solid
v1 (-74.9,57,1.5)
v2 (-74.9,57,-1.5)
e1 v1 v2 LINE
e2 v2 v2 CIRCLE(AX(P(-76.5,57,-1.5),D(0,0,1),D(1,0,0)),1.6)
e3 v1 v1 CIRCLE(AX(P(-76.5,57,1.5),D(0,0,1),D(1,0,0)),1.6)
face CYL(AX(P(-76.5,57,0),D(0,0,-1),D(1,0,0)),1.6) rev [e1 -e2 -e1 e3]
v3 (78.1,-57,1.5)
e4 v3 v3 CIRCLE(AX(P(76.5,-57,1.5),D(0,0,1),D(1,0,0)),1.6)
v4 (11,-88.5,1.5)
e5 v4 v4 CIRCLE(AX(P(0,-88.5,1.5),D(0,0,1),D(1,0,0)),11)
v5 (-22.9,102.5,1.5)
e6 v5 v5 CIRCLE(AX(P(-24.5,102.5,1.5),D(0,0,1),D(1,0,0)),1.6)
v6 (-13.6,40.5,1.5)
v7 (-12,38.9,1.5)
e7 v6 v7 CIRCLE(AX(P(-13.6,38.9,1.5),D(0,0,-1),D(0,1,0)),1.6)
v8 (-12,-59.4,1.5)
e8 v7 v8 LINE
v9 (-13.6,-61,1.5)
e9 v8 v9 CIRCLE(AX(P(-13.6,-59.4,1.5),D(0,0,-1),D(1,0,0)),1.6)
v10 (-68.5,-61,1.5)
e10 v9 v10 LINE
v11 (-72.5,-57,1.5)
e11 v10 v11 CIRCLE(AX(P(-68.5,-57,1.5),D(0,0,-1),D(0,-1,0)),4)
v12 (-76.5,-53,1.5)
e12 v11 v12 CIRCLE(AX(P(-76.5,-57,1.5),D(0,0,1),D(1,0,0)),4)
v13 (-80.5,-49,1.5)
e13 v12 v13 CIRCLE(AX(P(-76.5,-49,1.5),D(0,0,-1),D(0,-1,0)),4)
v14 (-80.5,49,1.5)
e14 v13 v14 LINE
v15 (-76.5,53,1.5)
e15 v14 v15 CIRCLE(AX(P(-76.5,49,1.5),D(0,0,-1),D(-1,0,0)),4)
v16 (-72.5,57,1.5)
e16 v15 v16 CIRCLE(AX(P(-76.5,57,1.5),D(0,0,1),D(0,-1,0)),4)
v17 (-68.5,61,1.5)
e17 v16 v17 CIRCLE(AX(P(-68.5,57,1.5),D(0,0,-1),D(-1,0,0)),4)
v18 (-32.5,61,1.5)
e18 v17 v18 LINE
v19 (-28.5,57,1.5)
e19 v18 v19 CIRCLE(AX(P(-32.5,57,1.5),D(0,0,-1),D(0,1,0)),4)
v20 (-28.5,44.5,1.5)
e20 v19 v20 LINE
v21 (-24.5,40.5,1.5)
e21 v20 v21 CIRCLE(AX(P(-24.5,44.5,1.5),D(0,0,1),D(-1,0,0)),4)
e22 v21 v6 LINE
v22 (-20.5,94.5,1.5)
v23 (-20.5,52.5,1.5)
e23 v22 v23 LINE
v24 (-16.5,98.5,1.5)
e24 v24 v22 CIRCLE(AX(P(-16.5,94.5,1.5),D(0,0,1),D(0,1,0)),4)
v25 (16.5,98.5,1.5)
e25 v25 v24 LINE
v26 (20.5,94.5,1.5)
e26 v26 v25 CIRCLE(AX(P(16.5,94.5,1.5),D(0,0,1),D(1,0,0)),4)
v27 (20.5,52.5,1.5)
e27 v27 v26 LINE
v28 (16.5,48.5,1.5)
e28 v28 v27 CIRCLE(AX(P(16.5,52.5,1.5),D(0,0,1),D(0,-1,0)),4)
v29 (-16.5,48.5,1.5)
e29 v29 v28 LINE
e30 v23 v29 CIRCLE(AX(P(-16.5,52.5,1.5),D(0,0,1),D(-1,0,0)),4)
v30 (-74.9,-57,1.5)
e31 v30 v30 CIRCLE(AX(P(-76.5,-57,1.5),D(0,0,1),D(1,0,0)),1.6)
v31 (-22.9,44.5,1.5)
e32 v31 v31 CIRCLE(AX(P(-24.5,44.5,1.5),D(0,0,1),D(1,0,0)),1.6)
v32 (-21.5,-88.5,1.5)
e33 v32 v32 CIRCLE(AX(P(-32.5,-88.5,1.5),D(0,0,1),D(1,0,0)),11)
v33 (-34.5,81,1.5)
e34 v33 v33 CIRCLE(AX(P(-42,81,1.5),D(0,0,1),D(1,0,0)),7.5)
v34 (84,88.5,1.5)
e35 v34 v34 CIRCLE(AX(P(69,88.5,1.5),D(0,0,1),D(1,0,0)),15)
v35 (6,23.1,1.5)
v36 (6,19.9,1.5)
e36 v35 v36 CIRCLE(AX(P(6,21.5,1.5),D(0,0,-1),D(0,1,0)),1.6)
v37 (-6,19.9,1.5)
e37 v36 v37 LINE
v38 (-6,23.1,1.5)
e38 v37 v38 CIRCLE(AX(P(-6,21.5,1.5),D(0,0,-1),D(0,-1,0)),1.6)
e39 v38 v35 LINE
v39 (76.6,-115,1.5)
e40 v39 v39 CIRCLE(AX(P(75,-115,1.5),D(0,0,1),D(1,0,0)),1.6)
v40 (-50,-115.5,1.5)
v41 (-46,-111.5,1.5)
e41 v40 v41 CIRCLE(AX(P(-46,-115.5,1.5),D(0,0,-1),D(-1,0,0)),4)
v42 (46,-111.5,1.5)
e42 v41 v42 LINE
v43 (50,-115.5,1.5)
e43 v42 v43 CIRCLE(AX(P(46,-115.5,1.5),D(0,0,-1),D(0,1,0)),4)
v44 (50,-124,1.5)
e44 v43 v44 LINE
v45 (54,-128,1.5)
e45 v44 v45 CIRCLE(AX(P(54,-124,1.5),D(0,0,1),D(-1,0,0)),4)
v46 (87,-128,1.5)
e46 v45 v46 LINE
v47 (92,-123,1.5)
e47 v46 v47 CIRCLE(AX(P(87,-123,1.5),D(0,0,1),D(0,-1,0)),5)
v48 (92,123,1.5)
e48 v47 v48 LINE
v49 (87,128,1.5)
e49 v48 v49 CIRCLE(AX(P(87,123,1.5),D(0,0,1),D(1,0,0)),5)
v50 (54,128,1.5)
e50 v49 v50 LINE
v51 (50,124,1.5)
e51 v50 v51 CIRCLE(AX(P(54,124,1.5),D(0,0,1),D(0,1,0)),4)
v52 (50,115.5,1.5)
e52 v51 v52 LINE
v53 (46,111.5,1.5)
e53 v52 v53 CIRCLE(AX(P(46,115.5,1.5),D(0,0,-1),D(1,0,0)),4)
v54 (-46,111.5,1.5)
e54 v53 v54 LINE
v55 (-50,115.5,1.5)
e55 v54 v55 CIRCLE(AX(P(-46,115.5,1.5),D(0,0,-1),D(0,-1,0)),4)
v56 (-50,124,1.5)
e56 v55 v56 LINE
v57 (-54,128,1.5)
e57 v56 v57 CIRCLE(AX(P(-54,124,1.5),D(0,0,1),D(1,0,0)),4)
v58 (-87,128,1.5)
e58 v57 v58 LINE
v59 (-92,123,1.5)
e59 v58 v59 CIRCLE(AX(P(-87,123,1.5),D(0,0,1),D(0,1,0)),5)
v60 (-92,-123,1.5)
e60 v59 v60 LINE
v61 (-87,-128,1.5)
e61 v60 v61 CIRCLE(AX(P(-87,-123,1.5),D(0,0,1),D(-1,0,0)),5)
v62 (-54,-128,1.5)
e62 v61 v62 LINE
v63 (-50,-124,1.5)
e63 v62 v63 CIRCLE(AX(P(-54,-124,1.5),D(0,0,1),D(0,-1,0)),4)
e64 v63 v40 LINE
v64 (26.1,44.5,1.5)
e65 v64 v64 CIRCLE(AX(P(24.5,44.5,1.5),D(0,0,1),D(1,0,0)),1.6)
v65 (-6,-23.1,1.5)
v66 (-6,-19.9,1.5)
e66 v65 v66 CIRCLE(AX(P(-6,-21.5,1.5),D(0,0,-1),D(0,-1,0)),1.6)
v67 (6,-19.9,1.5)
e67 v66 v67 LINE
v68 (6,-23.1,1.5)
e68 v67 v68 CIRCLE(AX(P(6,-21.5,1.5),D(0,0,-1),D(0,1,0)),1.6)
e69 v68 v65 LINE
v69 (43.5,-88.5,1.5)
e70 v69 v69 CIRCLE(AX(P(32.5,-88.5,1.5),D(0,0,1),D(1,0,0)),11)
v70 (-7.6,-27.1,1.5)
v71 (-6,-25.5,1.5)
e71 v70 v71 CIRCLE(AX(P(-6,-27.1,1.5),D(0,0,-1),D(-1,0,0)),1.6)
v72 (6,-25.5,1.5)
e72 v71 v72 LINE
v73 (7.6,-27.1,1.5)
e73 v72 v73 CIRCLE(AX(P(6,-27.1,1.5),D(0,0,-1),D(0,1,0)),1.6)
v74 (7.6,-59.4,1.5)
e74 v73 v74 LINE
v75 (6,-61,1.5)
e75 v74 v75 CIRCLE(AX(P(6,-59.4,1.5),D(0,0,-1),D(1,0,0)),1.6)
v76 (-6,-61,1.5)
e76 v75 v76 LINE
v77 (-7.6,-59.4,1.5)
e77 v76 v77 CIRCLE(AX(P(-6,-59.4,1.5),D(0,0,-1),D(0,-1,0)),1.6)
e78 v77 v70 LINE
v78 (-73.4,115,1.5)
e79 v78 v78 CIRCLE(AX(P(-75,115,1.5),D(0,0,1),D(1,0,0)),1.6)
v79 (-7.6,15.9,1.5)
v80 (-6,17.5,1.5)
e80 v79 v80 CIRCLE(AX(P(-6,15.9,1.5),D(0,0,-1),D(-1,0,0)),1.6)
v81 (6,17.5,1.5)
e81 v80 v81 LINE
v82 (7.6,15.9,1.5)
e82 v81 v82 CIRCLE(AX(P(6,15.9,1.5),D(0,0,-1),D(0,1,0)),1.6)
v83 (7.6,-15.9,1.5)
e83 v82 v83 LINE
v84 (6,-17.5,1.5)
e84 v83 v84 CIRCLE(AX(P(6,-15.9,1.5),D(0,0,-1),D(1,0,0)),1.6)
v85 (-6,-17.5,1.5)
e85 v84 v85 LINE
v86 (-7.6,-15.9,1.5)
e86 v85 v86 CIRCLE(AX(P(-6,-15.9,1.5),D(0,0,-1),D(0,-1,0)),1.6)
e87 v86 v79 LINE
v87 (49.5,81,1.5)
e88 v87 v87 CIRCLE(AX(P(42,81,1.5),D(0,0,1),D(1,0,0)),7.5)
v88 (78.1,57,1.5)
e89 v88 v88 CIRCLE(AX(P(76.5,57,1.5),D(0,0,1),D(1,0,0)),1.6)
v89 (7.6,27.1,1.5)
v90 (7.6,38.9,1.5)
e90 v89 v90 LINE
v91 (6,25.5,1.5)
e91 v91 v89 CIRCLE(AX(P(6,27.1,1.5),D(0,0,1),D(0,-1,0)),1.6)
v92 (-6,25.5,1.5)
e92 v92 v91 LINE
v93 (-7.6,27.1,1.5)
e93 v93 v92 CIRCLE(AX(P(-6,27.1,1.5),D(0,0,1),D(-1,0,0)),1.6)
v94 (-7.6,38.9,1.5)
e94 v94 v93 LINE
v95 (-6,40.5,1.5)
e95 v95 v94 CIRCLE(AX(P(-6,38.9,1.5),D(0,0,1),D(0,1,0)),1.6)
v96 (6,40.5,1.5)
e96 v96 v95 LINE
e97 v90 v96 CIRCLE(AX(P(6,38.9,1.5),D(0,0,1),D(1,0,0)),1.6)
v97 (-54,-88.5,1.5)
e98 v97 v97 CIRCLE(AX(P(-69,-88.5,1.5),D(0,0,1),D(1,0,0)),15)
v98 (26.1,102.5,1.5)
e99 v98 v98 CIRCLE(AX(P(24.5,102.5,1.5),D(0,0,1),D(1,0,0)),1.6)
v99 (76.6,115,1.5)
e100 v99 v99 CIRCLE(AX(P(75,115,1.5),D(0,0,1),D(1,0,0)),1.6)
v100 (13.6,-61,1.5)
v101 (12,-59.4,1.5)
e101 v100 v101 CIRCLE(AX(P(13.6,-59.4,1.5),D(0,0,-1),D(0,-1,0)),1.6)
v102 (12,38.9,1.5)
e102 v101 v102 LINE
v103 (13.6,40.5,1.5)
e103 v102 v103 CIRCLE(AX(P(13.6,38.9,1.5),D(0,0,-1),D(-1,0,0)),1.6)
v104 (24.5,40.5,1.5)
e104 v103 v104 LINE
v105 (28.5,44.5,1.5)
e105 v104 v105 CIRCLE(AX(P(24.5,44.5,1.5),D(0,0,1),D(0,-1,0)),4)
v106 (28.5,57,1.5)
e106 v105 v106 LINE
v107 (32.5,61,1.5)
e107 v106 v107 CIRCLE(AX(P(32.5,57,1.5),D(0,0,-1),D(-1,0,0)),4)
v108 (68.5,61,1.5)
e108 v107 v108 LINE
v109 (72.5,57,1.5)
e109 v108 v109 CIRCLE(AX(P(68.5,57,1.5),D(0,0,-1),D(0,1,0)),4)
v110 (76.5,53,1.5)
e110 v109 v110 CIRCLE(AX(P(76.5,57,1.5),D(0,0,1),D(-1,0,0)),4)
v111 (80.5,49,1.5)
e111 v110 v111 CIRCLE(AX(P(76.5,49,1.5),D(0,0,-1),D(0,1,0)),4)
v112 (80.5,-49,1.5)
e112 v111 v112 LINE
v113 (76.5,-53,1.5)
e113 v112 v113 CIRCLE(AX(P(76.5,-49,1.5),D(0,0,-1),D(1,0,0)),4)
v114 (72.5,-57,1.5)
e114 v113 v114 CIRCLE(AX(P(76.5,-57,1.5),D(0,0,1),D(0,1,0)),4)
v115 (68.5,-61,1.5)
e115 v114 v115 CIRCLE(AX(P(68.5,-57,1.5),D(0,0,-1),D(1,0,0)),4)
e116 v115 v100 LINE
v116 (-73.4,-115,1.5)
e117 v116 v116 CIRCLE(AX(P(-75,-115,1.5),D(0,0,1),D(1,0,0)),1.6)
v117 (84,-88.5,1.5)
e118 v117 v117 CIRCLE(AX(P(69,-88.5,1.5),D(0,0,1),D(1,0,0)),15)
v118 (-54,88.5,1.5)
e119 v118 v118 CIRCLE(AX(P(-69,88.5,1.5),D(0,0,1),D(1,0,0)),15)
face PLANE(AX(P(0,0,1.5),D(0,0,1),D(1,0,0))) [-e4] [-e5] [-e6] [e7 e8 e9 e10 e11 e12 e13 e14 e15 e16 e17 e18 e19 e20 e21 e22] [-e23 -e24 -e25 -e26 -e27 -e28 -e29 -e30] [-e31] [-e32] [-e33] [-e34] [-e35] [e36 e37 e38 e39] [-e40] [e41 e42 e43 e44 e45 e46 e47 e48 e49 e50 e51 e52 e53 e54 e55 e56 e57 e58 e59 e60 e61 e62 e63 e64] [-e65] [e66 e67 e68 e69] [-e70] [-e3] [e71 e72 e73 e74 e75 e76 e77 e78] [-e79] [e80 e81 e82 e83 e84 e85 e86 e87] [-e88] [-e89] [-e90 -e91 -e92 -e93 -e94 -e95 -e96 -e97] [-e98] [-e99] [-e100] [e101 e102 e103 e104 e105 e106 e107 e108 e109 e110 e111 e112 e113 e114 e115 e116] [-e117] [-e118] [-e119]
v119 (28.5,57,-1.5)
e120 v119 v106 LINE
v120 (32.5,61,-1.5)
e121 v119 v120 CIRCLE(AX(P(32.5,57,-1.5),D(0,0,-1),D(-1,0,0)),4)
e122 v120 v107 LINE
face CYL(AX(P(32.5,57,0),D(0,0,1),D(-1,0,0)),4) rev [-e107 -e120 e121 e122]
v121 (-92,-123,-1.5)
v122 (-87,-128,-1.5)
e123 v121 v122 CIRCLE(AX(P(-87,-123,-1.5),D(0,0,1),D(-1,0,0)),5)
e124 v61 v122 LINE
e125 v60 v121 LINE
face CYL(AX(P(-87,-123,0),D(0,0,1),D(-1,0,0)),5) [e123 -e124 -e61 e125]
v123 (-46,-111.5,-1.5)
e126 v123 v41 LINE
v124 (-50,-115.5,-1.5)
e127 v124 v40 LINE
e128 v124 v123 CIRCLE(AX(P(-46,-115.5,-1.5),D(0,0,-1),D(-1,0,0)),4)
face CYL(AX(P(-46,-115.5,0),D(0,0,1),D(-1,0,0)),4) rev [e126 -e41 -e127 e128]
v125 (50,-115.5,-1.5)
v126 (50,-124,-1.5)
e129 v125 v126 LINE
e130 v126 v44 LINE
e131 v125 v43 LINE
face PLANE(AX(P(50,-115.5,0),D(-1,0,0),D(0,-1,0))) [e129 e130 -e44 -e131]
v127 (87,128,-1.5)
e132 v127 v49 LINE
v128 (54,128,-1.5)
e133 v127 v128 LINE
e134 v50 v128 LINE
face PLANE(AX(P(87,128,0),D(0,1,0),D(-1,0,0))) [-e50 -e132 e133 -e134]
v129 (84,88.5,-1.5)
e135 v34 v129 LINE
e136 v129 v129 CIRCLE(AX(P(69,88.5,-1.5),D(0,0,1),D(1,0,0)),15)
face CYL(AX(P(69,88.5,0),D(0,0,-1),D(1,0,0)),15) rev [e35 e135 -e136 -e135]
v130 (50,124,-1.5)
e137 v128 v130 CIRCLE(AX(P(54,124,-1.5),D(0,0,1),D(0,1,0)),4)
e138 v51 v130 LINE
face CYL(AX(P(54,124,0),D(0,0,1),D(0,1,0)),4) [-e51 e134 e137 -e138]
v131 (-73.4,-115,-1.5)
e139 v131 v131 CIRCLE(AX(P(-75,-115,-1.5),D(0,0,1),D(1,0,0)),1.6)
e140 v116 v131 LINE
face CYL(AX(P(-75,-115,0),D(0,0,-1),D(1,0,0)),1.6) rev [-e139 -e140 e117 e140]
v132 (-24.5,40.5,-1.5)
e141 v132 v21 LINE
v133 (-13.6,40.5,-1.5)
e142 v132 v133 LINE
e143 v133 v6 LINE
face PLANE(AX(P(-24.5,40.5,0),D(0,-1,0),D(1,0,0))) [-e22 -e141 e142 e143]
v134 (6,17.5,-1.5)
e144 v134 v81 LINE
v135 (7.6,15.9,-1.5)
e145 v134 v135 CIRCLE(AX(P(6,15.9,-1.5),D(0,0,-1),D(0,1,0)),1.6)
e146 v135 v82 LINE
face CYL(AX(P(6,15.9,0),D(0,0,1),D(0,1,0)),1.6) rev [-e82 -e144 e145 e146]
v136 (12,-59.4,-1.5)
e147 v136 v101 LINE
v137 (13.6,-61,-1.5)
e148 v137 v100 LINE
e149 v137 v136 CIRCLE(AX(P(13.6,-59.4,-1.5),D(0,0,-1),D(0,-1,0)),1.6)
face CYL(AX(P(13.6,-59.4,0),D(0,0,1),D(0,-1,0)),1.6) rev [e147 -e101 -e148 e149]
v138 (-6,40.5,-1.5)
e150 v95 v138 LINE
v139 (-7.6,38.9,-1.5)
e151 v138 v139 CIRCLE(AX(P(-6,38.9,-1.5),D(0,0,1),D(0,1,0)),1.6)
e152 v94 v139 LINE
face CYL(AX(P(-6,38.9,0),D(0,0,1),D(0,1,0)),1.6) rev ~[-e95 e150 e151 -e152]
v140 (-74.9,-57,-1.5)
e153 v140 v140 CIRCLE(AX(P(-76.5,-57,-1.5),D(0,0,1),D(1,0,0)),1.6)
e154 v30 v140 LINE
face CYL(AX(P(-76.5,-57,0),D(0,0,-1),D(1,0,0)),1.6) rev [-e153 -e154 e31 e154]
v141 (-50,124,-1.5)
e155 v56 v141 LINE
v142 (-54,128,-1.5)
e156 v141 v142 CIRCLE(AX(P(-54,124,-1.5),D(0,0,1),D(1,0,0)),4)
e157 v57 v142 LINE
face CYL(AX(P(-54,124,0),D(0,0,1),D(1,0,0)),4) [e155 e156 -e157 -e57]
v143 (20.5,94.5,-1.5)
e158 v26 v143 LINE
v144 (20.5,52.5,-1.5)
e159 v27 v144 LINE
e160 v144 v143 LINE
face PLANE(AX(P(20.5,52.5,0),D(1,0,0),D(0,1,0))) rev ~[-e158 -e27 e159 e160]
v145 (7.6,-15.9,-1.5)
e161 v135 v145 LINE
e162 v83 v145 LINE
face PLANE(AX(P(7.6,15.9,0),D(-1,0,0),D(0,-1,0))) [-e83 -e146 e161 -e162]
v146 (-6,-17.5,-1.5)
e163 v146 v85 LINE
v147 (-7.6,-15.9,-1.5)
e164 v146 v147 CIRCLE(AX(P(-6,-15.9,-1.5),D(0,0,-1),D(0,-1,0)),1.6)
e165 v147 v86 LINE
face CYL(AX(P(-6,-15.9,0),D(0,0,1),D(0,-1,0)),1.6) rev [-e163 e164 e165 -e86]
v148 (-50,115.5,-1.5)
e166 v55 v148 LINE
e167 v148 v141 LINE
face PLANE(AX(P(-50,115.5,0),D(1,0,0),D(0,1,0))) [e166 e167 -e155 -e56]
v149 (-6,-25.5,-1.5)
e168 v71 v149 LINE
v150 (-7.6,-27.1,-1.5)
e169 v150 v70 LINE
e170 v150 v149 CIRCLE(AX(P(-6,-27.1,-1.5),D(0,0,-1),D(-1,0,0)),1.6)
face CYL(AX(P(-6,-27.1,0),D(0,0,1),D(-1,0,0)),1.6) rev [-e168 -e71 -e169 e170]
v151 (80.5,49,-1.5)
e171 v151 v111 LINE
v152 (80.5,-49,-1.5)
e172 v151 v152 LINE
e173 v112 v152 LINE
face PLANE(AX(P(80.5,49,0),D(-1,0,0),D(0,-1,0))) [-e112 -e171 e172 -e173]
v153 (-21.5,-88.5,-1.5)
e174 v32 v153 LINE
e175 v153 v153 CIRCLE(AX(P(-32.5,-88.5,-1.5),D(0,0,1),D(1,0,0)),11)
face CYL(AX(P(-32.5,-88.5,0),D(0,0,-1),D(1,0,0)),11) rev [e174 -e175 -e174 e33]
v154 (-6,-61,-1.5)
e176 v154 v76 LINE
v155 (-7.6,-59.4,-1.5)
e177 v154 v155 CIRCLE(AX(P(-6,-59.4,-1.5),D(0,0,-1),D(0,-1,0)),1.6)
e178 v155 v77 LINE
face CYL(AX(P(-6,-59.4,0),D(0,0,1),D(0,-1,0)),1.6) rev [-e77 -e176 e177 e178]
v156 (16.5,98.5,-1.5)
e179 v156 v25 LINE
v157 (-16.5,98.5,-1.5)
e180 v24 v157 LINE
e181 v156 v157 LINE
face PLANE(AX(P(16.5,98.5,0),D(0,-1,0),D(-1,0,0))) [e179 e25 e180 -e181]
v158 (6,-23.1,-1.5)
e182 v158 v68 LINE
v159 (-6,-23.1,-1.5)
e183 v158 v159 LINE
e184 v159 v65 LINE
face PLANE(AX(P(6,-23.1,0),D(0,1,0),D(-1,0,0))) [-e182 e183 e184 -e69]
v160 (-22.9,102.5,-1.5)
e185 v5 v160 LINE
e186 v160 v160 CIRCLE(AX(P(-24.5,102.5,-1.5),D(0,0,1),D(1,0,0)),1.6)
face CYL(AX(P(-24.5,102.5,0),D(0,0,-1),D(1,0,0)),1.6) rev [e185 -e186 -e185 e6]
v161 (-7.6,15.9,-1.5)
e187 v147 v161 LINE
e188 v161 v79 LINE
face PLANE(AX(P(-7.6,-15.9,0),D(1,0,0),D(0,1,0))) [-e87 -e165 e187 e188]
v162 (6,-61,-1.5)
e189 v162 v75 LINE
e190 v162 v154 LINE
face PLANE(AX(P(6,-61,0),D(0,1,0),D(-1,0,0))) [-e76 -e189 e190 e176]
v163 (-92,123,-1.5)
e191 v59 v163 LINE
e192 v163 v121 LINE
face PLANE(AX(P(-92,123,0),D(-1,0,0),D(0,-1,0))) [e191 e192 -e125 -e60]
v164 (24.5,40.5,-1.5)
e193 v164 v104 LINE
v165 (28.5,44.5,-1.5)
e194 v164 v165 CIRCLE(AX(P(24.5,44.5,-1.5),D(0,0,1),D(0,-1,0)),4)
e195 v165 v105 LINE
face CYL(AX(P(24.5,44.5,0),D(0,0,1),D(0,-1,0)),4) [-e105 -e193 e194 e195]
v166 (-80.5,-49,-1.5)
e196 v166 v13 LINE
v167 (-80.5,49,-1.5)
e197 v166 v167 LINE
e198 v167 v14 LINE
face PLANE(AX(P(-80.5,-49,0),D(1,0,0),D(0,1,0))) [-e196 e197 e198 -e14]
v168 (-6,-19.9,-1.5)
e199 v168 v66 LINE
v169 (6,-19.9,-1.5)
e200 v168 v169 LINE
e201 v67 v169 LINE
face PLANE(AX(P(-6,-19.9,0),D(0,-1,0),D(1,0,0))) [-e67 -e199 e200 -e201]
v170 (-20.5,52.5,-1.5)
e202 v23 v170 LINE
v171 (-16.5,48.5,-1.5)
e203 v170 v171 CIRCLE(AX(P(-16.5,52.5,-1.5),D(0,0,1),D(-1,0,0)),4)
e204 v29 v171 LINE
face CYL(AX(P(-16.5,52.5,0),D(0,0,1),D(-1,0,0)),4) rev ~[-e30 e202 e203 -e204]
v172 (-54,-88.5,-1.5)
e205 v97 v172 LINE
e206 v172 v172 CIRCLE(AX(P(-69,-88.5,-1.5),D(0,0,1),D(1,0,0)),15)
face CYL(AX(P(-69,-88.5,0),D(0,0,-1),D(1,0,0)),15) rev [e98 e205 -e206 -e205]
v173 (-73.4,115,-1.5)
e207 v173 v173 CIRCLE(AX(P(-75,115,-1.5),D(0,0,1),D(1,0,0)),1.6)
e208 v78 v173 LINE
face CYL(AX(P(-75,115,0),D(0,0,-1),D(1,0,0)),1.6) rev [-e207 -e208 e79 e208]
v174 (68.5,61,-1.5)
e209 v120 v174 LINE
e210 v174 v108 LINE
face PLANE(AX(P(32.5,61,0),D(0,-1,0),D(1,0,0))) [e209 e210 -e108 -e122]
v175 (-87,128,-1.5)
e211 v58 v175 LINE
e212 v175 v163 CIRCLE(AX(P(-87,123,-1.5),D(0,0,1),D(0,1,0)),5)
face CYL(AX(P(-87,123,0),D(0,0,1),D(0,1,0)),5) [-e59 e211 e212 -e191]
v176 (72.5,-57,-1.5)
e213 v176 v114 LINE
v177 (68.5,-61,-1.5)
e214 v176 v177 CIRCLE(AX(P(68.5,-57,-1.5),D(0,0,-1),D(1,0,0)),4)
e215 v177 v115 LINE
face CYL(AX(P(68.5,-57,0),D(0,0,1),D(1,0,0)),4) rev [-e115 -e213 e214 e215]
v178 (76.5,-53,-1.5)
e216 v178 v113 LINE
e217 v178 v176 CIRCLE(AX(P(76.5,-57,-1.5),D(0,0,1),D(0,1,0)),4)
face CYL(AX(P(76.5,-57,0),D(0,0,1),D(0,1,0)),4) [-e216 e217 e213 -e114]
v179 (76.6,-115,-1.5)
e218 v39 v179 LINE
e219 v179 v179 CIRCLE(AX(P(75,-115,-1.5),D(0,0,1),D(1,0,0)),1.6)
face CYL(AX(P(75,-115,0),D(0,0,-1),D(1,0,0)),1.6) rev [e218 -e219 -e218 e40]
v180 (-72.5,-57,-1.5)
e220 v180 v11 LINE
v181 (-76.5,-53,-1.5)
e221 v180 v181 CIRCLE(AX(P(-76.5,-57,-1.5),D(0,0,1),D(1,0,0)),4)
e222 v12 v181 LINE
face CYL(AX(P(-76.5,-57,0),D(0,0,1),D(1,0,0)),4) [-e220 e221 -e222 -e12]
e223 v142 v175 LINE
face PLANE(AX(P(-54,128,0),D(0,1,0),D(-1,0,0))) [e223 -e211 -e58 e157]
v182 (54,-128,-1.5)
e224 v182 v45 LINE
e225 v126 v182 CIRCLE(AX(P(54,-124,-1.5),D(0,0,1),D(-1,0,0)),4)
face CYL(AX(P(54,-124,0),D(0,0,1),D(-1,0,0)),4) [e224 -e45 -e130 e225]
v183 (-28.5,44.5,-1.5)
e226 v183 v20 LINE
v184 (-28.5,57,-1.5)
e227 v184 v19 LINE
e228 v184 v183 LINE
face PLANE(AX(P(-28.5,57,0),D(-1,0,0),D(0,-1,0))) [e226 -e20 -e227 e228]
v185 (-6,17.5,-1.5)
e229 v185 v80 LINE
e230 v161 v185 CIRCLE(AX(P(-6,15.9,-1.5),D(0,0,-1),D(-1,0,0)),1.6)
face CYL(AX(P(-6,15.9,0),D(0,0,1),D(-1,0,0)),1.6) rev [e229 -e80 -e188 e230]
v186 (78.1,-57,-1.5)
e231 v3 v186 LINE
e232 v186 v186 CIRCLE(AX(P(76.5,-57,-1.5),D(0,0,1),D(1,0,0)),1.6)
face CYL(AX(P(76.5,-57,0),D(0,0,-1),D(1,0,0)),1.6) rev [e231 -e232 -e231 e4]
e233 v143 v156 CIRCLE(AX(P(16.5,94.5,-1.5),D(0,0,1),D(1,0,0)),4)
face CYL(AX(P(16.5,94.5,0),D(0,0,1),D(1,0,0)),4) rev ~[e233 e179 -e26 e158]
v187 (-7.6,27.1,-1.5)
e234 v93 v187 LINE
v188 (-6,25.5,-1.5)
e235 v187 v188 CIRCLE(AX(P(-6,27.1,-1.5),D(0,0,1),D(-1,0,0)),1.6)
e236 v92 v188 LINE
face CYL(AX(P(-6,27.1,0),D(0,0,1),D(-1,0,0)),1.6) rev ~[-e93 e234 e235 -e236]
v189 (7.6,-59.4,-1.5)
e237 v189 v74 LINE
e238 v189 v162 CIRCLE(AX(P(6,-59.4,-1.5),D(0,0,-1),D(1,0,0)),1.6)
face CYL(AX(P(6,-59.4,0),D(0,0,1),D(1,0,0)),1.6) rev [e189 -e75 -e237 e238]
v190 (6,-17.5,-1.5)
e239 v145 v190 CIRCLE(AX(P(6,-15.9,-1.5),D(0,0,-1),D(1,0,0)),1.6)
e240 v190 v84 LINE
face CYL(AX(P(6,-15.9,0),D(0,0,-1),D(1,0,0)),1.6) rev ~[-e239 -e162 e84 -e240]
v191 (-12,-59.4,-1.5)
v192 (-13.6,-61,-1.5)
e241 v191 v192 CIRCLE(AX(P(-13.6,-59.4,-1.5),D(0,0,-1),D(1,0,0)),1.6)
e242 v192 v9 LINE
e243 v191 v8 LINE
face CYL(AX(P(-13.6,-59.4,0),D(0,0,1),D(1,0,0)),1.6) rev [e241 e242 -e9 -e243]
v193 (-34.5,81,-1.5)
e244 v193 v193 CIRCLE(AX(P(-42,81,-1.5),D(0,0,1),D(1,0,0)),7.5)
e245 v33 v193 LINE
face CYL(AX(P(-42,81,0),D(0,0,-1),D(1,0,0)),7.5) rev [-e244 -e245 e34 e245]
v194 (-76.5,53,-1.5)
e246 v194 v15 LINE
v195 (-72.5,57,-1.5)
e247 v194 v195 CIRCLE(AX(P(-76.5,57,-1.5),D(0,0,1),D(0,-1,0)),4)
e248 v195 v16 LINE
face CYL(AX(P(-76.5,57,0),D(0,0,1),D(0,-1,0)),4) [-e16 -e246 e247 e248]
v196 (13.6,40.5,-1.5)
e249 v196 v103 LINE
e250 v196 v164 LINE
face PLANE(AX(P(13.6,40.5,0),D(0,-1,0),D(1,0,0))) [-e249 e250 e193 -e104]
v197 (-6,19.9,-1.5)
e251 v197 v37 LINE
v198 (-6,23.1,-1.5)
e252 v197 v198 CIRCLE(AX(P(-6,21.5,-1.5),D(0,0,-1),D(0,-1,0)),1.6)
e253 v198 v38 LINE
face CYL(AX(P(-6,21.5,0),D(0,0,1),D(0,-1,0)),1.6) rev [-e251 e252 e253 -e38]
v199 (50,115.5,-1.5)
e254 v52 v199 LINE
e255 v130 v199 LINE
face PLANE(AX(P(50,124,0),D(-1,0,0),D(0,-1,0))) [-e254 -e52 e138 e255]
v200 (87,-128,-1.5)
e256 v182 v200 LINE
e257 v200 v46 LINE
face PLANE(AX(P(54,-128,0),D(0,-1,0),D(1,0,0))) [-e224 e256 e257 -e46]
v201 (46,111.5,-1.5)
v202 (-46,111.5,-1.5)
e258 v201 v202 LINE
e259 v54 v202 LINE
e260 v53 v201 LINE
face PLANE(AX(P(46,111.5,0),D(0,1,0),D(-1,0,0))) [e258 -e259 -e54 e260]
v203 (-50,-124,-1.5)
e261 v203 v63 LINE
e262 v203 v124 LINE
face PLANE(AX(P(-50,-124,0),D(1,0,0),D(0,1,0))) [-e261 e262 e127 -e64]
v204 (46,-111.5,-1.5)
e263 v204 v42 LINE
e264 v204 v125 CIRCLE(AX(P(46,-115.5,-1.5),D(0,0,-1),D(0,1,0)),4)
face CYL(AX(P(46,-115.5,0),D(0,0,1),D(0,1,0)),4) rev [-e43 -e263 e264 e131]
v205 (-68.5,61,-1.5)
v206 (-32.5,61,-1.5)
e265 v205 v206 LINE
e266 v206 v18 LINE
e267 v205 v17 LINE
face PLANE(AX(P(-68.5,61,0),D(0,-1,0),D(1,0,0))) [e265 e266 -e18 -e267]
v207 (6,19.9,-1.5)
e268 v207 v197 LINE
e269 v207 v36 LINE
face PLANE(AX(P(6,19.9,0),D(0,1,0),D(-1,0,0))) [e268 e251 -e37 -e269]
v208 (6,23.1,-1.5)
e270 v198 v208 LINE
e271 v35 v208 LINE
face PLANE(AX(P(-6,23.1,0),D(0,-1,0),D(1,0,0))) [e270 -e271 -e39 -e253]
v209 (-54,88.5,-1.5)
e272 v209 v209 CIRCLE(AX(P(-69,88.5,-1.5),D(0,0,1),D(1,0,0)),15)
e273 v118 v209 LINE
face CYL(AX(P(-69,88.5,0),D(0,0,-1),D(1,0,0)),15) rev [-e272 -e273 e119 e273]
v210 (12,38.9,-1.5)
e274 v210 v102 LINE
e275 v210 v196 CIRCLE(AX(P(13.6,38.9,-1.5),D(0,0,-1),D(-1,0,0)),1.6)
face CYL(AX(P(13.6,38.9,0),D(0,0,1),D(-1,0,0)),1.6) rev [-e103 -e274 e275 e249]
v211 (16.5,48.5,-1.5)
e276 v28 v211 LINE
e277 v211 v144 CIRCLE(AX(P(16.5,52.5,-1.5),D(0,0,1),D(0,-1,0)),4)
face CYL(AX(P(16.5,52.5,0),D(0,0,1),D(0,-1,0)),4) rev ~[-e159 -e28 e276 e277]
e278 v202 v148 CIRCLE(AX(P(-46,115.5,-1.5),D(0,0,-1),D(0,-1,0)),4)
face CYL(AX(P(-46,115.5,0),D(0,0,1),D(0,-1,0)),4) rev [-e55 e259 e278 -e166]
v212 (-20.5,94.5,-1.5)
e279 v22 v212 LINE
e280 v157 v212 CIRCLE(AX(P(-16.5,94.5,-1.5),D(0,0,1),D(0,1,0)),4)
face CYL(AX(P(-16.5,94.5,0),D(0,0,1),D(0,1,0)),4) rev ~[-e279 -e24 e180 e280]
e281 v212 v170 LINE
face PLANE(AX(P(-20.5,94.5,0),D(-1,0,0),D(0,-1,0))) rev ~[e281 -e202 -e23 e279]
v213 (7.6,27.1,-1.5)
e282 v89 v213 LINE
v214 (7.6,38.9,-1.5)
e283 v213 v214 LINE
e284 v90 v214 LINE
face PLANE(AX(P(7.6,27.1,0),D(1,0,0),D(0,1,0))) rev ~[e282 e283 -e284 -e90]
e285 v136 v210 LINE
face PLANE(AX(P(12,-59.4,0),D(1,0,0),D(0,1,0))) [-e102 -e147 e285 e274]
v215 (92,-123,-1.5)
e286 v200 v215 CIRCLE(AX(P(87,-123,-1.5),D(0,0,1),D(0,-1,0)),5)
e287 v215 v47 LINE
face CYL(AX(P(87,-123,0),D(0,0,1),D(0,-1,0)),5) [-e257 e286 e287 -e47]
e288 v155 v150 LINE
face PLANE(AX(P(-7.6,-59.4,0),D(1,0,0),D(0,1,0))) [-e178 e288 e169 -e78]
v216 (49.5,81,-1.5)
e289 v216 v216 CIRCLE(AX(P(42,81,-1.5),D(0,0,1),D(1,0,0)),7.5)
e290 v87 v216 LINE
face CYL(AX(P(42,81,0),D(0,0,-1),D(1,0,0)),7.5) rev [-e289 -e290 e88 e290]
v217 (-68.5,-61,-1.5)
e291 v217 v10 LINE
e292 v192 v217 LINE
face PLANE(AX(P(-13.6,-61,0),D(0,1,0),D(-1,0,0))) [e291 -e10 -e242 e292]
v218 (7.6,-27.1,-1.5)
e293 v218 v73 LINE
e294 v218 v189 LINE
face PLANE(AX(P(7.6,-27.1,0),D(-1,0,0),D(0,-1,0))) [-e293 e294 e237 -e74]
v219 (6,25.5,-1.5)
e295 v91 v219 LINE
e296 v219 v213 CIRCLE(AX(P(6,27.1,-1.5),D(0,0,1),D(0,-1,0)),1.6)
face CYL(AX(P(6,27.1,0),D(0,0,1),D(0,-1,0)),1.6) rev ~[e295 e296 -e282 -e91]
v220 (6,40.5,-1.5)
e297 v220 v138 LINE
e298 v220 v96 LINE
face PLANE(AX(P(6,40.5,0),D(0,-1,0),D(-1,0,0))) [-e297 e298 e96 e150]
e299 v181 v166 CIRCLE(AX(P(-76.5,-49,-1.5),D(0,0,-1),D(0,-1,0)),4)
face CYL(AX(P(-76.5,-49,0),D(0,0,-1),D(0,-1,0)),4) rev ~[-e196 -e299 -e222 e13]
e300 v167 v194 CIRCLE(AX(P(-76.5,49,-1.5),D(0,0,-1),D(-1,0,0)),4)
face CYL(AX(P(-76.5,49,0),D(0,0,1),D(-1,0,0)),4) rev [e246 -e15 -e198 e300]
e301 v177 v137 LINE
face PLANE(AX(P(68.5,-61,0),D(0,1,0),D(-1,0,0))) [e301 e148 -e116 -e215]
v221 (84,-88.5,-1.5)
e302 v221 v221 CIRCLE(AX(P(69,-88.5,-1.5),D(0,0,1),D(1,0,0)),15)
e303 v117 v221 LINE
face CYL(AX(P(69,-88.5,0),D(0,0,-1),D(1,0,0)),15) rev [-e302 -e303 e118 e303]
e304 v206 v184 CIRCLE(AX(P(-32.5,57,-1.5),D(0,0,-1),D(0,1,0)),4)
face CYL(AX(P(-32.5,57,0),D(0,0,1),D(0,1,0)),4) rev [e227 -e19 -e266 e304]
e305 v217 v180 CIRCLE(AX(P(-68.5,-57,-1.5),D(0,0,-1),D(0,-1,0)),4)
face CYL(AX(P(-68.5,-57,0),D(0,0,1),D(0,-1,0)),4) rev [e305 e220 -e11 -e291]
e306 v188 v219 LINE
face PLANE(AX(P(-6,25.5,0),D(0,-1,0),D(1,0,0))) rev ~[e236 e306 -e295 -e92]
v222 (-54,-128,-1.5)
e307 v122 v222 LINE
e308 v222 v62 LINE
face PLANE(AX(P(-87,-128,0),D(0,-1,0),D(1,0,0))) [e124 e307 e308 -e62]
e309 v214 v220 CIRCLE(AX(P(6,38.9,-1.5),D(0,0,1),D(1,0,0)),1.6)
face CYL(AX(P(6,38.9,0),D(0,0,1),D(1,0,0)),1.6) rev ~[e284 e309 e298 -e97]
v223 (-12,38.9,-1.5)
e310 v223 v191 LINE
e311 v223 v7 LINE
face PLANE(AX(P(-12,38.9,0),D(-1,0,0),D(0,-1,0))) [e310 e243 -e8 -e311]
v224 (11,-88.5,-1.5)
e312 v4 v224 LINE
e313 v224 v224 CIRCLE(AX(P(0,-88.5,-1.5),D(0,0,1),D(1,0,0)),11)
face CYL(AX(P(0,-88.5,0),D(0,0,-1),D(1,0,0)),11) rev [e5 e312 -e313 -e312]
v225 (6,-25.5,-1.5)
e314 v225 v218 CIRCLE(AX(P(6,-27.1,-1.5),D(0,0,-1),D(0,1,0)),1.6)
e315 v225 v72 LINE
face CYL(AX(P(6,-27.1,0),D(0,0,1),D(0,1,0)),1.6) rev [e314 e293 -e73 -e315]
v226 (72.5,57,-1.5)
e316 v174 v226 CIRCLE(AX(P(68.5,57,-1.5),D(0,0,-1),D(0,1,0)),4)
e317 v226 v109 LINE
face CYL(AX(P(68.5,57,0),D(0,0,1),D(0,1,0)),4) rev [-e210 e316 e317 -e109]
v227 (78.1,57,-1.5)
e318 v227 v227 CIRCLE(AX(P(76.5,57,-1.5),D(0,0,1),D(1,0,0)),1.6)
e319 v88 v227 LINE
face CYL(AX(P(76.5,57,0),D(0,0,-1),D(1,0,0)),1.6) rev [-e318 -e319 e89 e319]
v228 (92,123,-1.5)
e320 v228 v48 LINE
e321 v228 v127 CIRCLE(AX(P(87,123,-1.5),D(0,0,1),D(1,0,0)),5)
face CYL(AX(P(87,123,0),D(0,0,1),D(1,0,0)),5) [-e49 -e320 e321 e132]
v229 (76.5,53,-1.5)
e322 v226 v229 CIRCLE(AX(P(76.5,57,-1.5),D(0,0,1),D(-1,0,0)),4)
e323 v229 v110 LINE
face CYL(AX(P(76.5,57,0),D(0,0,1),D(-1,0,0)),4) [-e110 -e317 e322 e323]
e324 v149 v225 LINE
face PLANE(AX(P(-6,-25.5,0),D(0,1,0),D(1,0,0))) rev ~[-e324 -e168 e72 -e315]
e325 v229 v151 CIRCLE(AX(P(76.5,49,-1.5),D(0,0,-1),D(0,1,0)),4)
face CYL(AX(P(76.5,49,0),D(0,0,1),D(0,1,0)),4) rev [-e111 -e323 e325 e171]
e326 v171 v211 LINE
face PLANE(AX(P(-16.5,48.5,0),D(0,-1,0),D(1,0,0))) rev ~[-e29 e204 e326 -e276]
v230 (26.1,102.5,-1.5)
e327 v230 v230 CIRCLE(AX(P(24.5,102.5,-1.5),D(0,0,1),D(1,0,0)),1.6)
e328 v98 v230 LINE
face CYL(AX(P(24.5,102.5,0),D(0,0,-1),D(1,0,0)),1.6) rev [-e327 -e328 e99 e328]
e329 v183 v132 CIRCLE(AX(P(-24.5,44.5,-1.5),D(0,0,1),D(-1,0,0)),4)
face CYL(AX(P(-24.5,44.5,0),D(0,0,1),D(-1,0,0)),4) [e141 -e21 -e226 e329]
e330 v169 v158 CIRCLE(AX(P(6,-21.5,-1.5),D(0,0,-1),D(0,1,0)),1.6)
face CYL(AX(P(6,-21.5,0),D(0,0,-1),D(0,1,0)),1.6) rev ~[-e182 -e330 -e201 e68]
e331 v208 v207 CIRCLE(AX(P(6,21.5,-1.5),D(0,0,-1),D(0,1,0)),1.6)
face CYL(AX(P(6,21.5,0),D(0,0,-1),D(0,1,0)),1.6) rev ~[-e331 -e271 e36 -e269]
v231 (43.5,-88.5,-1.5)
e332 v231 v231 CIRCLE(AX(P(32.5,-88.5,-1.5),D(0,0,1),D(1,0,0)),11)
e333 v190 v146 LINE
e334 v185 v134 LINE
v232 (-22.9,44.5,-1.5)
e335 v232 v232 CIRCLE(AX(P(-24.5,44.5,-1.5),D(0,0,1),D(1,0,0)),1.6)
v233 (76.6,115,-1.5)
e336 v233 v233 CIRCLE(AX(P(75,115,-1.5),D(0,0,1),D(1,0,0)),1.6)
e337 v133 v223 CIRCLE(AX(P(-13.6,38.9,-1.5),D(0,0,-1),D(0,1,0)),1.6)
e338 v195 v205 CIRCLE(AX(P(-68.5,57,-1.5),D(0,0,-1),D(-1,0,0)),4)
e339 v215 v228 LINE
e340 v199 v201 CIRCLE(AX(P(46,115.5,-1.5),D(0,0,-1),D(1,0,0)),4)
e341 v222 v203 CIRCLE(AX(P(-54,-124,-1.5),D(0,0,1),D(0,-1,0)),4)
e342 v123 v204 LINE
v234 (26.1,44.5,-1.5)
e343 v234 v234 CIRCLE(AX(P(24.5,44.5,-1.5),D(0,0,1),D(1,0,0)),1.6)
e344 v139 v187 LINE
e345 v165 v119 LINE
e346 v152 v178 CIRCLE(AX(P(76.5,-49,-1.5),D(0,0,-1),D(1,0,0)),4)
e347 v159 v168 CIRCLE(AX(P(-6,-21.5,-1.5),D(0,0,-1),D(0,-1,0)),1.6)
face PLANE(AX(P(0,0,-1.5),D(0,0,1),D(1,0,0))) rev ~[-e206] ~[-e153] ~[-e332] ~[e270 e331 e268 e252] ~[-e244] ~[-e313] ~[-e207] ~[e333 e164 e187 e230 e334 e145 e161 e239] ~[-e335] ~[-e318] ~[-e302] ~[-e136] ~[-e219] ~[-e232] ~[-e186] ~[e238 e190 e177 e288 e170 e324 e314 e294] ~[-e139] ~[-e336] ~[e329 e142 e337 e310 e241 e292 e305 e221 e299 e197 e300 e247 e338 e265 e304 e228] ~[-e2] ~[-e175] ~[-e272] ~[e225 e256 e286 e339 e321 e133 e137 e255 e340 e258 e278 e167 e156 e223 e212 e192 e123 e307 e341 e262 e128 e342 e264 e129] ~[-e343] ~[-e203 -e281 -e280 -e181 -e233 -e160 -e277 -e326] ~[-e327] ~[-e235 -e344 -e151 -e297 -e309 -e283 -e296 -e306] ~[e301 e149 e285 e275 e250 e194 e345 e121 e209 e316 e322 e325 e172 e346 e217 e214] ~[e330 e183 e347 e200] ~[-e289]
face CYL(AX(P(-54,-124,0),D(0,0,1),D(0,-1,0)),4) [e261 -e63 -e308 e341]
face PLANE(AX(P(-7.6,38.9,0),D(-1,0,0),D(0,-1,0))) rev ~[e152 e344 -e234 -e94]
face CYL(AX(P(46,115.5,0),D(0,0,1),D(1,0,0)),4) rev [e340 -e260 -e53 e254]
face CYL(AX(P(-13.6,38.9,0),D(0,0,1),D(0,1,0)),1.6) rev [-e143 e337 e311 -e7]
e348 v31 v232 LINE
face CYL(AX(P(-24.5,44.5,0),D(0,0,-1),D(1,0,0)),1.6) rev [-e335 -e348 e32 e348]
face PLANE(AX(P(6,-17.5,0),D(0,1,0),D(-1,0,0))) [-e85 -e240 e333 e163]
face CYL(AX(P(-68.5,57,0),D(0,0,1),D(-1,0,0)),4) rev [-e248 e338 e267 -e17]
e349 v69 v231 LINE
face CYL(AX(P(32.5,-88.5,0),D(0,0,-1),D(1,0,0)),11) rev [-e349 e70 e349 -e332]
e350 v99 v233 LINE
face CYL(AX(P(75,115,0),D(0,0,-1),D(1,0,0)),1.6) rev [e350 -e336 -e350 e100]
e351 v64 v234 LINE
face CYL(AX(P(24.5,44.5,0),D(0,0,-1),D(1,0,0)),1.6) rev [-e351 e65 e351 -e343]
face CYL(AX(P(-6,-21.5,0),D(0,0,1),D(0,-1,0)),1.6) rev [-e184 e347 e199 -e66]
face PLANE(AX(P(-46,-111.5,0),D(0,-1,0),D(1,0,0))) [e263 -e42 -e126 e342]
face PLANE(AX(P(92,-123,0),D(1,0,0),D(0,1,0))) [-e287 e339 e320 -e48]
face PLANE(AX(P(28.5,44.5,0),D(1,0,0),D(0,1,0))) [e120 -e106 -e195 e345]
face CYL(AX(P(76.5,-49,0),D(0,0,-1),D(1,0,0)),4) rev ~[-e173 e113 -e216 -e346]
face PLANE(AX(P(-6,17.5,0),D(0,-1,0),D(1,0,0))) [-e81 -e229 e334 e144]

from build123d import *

# Parameters (mm, degrees)
MODEL_R             = 1.6
MODEL_R_2           = 15
MODEL_R_3           = 11
MODEL_R_4           = 7.5
BOSS_EXTRUDE1_DEPTH = 1.5


with BuildPart() as part:
    # Model → Boss-Extrude1 (new, symmetric)
    with BuildSketch(Plane.XY):
        with BuildLine():
            Line((-87, -128), (-54, -128))
            ThreePointArc((-54, -128), (-51.171572875, -126.828427125), (-50, -124))
            Line((-50, -124), (-50, -115.5))
            ThreePointArc((-50, -115.5), (-48.828427125, -112.671572875), (-46, -111.5))
            Line((-46, -111.5), (46, -111.5))
            ThreePointArc((46, -111.5), (48.828427125, -112.671572875), (50, -115.5))
            Line((50, -115.5), (50, -124))
            ThreePointArc((50, -124), (51.171572875, -126.828427125), (54, -128))
            Line((54, -128), (87, -128))
            ThreePointArc((87, -128), (90.535533906, -126.535533906), (92, -123))
            Line((92, -123), (92, 123))
            ThreePointArc((92, 123), (90.535533906, 126.535533906), (87, 128))
            Line((87, 128), (54, 128))
            ThreePointArc((54, 128), (51.171572875, 126.828427125), (50, 124))
            Line((50, 124), (50, 115.5))
            ThreePointArc((50, 115.5), (48.828427125, 112.671572875), (46, 111.5))
            Line((46, 111.5), (-46, 111.5))
            ThreePointArc((-46, 111.5), (-48.828427125, 112.671572875), (-50, 115.5))
            Line((-50, 115.5), (-50, 124))
            ThreePointArc((-50, 124), (-51.171572875, 126.828427125), (-54, 128))
            Line((-54, 128), (-87, 128))
            ThreePointArc((-87, 128), (-90.535533906, 126.535533906), (-92, 123))
            Line((-92, 123), (-92, -123))
            ThreePointArc((-92, -123), (-90.535533906, -126.535533906), (-87, -128))
        make_face()
        with Locations((-75, 115)):
            Circle(MODEL_R, mode=Mode.SUBTRACT)
        with Locations((75, 115)):
            Circle(MODEL_R, mode=Mode.SUBTRACT)
        with Locations((-75, -115)):
            Circle(MODEL_R, mode=Mode.SUBTRACT)
        with Locations((75, -115)):
            Circle(MODEL_R, mode=Mode.SUBTRACT)
        with Locations((-69, 88.5)):
            Circle(MODEL_R_2, mode=Mode.SUBTRACT)
        with Locations((69, 88.5)):
            Circle(MODEL_R_2, mode=Mode.SUBTRACT)
        with Locations((-69, -88.5)):
            Circle(MODEL_R_2, mode=Mode.SUBTRACT)
        with Locations((69, -88.5)):
            Circle(MODEL_R_2, mode=Mode.SUBTRACT)
        with Locations((-24.5, 44.5)):
            Circle(MODEL_R, mode=Mode.SUBTRACT)
        with Locations((24.5, 44.5)):
            Circle(MODEL_R, mode=Mode.SUBTRACT)
        with Locations((-24.5, 102.5)):
            Circle(MODEL_R, mode=Mode.SUBTRACT)
        with Locations((24.5, 102.5)):
            Circle(MODEL_R, mode=Mode.SUBTRACT)
        with Locations((0, -88.5)):
            Circle(MODEL_R_3, mode=Mode.SUBTRACT)
        with Locations((-76.5, -57)):
            Circle(MODEL_R, mode=Mode.SUBTRACT)
        with Locations((-76.5, 57)):
            Circle(MODEL_R, mode=Mode.SUBTRACT)
        with Locations((76.5, -57)):
            Circle(MODEL_R, mode=Mode.SUBTRACT)
        with Locations((76.5, 57)):
            Circle(MODEL_R, mode=Mode.SUBTRACT)
        with Locations((-32.5, -88.5)):
            Circle(MODEL_R_3, mode=Mode.SUBTRACT)
        with Locations((32.5, -88.5)):
            Circle(MODEL_R_3, mode=Mode.SUBTRACT)
        with Locations((-42, 81)):
            Circle(MODEL_R_4, mode=Mode.SUBTRACT)
        with Locations((42, 81)):
            Circle(MODEL_R_4, mode=Mode.SUBTRACT)
        with BuildLine():
            Line((-24.5, 40.5), (-13.6, 40.5))
            ThreePointArc((-13.6, 40.5), (-12.46862915, 40.03137085), (-12, 38.9))
            Line((-12, 38.9), (-12, -59.4))
            ThreePointArc((-12, -59.4), (-12.46862915, -60.53137085), (-13.6, -61))
            Line((-13.6, -61), (-68.5, -61))
            ThreePointArc((-68.5, -61), (-71.328427125, -59.828427125), (-72.5, -57))
            ThreePointArc((-72.5, -57), (-73.671572875, -54.171572875), (-76.5, -53))
            ThreePointArc((-76.5, -53), (-79.328427125, -51.828427125), (-80.5, -49))
            Line((-80.5, -49), (-80.5, 49))
            ThreePointArc((-80.5, 49), (-79.328427125, 51.828427125), (-76.5, 53))
            ThreePointArc((-76.5, 53), (-73.671572875, 54.171572875), (-72.5, 57))
            ThreePointArc((-72.5, 57), (-71.328427125, 59.828427125), (-68.5, 61))
            Line((-68.5, 61), (-32.5, 61))
            ThreePointArc((-32.5, 61), (-29.671572875, 59.828427125), (-28.5, 57))
            Line((-28.5, 57), (-28.5, 44.5))
            ThreePointArc((-28.5, 44.5), (-27.328427125, 41.671572875), (-24.5, 40.5))
        make_face(mode=Mode.SUBTRACT)
        with BuildLine():
            Line((28.5, 44.5), (28.5, 57))
            ThreePointArc((28.5, 57), (29.671572875, 59.828427125), (32.5, 61))
            Line((32.5, 61), (68.5, 61))
            ThreePointArc((68.5, 61), (71.328427125, 59.828427125), (72.5, 57))
            ThreePointArc((72.5, 57), (73.671572875, 54.171572875), (76.5, 53))
            ThreePointArc((76.5, 53), (79.328427125, 51.828427125), (80.5, 49))
            Line((80.5, 49), (80.5, -49))
            ThreePointArc((80.5, -49), (79.328427125, -51.828427125), (76.5, -53))
            ThreePointArc((76.5, -53), (73.671572875, -54.171572875), (72.5, -57))
            ThreePointArc((72.5, -57), (71.328427125, -59.828427125), (68.5, -61))
            Line((68.5, -61), (13.6, -61))
            ThreePointArc((13.6, -61), (12.46862915, -60.53137085), (12, -59.4))
            Line((12, -59.4), (12, 38.9))
            ThreePointArc((12, 38.9), (12.46862915, 40.03137085), (13.6, 40.5))
            Line((13.6, 40.5), (24.5, 40.5))
            ThreePointArc((24.5, 40.5), (27.328427125, 41.671572875), (28.5, 44.5))
        make_face(mode=Mode.SUBTRACT)
        with BuildLine():
            Line((-16.5, 48.5), (16.5, 48.5))
            ThreePointArc((16.5, 48.5), (19.328427125, 49.671572875), (20.5, 52.5))
            Line((20.5, 52.5), (20.5, 94.5))
            ThreePointArc((20.5, 94.5), (19.328427125, 97.328427125), (16.5, 98.5))
            Line((16.5, 98.5), (-16.5, 98.5))
            ThreePointArc((-16.5, 98.5), (-19.328427125, 97.328427125), (-20.5, 94.5))
            Line((-20.5, 94.5), (-20.5, 52.5))
            ThreePointArc((-20.5, 52.5), (-19.328427125, 49.671572875), (-16.5, 48.5))
        make_face(mode=Mode.SUBTRACT)
        with BuildLine():
            Line((-6, 23.1), (6, 23.1))
            ThreePointArc((6, 23.1), (7.6, 21.5), (6, 19.9))
            Line((6, 19.9), (-6, 19.9))
            ThreePointArc((-6, 19.9), (-7.6, 21.5), (-6, 23.1))
        make_face(mode=Mode.SUBTRACT)
        with BuildLine():
            Line((-6, -19.9), (6, -19.9))
            ThreePointArc((6, -19.9), (7.6, -21.5), (6, -23.1))
            Line((6, -23.1), (-6, -23.1))
            ThreePointArc((-6, -23.1), (-7.6, -21.5), (-6, -19.9))
        make_face(mode=Mode.SUBTRACT)
        with BuildLine():
            Line((-6, 17.5), (6, 17.5))
            ThreePointArc((6, 17.5), (7.13137085, 17.03137085), (7.6, 15.9))
            Line((7.6, 15.9), (7.6, -15.9))
            ThreePointArc((7.6, -15.9), (7.13137085, -17.03137085), (6, -17.5))
            Line((6, -17.5), (-6, -17.5))
            ThreePointArc((-6, -17.5), (-7.13137085, -17.03137085), (-7.6, -15.9))
            Line((-7.6, -15.9), (-7.6, 15.9))
            ThreePointArc((-7.6, 15.9), (-7.13137085, 17.03137085), (-6, 17.5))
        make_face(mode=Mode.SUBTRACT)
        with BuildLine():
            Line((-6, 25.5), (6, 25.5))
            ThreePointArc((6, 25.5), (7.13137085, 25.96862915), (7.6, 27.1))
            Line((7.6, 27.1), (7.6, 38.9))
            ThreePointArc((7.6, 38.9), (7.13137085, 40.03137085), (6, 40.5))
            Line((6, 40.5), (-6, 40.5))
            ThreePointArc((-6, 40.5), (-7.13137085, 40.03137085), (-7.6, 38.9))
            Line((-7.6, 38.9), (-7.6, 27.1))
            ThreePointArc((-7.6, 27.1), (-7.13137085, 25.96862915), (-6, 25.5))
        make_face(mode=Mode.SUBTRACT)
        with BuildLine():
            Line((-6, -25.5), (6, -25.5))
            ThreePointArc((6, -25.5), (7.13137085, -25.96862915), (7.6, -27.1))
            Line((7.6, -27.1), (7.6, -59.4))
            ThreePointArc((7.6, -59.4), (7.13137085, -60.53137085), (6, -61))
            Line((6, -61), (-6, -61))
            ThreePointArc((-6, -61), (-7.13137085, -60.53137085), (-7.6, -59.4))
            Line((-7.6, -59.4), (-7.6, -27.1))
            ThreePointArc((-7.6, -27.1), (-7.13137085, -25.96862915), (-6, -25.5))
        make_face(mode=Mode.SUBTRACT)
    extrude(amount=BOSS_EXTRUDE1_DEPTH, both=True)


solid = part.part
